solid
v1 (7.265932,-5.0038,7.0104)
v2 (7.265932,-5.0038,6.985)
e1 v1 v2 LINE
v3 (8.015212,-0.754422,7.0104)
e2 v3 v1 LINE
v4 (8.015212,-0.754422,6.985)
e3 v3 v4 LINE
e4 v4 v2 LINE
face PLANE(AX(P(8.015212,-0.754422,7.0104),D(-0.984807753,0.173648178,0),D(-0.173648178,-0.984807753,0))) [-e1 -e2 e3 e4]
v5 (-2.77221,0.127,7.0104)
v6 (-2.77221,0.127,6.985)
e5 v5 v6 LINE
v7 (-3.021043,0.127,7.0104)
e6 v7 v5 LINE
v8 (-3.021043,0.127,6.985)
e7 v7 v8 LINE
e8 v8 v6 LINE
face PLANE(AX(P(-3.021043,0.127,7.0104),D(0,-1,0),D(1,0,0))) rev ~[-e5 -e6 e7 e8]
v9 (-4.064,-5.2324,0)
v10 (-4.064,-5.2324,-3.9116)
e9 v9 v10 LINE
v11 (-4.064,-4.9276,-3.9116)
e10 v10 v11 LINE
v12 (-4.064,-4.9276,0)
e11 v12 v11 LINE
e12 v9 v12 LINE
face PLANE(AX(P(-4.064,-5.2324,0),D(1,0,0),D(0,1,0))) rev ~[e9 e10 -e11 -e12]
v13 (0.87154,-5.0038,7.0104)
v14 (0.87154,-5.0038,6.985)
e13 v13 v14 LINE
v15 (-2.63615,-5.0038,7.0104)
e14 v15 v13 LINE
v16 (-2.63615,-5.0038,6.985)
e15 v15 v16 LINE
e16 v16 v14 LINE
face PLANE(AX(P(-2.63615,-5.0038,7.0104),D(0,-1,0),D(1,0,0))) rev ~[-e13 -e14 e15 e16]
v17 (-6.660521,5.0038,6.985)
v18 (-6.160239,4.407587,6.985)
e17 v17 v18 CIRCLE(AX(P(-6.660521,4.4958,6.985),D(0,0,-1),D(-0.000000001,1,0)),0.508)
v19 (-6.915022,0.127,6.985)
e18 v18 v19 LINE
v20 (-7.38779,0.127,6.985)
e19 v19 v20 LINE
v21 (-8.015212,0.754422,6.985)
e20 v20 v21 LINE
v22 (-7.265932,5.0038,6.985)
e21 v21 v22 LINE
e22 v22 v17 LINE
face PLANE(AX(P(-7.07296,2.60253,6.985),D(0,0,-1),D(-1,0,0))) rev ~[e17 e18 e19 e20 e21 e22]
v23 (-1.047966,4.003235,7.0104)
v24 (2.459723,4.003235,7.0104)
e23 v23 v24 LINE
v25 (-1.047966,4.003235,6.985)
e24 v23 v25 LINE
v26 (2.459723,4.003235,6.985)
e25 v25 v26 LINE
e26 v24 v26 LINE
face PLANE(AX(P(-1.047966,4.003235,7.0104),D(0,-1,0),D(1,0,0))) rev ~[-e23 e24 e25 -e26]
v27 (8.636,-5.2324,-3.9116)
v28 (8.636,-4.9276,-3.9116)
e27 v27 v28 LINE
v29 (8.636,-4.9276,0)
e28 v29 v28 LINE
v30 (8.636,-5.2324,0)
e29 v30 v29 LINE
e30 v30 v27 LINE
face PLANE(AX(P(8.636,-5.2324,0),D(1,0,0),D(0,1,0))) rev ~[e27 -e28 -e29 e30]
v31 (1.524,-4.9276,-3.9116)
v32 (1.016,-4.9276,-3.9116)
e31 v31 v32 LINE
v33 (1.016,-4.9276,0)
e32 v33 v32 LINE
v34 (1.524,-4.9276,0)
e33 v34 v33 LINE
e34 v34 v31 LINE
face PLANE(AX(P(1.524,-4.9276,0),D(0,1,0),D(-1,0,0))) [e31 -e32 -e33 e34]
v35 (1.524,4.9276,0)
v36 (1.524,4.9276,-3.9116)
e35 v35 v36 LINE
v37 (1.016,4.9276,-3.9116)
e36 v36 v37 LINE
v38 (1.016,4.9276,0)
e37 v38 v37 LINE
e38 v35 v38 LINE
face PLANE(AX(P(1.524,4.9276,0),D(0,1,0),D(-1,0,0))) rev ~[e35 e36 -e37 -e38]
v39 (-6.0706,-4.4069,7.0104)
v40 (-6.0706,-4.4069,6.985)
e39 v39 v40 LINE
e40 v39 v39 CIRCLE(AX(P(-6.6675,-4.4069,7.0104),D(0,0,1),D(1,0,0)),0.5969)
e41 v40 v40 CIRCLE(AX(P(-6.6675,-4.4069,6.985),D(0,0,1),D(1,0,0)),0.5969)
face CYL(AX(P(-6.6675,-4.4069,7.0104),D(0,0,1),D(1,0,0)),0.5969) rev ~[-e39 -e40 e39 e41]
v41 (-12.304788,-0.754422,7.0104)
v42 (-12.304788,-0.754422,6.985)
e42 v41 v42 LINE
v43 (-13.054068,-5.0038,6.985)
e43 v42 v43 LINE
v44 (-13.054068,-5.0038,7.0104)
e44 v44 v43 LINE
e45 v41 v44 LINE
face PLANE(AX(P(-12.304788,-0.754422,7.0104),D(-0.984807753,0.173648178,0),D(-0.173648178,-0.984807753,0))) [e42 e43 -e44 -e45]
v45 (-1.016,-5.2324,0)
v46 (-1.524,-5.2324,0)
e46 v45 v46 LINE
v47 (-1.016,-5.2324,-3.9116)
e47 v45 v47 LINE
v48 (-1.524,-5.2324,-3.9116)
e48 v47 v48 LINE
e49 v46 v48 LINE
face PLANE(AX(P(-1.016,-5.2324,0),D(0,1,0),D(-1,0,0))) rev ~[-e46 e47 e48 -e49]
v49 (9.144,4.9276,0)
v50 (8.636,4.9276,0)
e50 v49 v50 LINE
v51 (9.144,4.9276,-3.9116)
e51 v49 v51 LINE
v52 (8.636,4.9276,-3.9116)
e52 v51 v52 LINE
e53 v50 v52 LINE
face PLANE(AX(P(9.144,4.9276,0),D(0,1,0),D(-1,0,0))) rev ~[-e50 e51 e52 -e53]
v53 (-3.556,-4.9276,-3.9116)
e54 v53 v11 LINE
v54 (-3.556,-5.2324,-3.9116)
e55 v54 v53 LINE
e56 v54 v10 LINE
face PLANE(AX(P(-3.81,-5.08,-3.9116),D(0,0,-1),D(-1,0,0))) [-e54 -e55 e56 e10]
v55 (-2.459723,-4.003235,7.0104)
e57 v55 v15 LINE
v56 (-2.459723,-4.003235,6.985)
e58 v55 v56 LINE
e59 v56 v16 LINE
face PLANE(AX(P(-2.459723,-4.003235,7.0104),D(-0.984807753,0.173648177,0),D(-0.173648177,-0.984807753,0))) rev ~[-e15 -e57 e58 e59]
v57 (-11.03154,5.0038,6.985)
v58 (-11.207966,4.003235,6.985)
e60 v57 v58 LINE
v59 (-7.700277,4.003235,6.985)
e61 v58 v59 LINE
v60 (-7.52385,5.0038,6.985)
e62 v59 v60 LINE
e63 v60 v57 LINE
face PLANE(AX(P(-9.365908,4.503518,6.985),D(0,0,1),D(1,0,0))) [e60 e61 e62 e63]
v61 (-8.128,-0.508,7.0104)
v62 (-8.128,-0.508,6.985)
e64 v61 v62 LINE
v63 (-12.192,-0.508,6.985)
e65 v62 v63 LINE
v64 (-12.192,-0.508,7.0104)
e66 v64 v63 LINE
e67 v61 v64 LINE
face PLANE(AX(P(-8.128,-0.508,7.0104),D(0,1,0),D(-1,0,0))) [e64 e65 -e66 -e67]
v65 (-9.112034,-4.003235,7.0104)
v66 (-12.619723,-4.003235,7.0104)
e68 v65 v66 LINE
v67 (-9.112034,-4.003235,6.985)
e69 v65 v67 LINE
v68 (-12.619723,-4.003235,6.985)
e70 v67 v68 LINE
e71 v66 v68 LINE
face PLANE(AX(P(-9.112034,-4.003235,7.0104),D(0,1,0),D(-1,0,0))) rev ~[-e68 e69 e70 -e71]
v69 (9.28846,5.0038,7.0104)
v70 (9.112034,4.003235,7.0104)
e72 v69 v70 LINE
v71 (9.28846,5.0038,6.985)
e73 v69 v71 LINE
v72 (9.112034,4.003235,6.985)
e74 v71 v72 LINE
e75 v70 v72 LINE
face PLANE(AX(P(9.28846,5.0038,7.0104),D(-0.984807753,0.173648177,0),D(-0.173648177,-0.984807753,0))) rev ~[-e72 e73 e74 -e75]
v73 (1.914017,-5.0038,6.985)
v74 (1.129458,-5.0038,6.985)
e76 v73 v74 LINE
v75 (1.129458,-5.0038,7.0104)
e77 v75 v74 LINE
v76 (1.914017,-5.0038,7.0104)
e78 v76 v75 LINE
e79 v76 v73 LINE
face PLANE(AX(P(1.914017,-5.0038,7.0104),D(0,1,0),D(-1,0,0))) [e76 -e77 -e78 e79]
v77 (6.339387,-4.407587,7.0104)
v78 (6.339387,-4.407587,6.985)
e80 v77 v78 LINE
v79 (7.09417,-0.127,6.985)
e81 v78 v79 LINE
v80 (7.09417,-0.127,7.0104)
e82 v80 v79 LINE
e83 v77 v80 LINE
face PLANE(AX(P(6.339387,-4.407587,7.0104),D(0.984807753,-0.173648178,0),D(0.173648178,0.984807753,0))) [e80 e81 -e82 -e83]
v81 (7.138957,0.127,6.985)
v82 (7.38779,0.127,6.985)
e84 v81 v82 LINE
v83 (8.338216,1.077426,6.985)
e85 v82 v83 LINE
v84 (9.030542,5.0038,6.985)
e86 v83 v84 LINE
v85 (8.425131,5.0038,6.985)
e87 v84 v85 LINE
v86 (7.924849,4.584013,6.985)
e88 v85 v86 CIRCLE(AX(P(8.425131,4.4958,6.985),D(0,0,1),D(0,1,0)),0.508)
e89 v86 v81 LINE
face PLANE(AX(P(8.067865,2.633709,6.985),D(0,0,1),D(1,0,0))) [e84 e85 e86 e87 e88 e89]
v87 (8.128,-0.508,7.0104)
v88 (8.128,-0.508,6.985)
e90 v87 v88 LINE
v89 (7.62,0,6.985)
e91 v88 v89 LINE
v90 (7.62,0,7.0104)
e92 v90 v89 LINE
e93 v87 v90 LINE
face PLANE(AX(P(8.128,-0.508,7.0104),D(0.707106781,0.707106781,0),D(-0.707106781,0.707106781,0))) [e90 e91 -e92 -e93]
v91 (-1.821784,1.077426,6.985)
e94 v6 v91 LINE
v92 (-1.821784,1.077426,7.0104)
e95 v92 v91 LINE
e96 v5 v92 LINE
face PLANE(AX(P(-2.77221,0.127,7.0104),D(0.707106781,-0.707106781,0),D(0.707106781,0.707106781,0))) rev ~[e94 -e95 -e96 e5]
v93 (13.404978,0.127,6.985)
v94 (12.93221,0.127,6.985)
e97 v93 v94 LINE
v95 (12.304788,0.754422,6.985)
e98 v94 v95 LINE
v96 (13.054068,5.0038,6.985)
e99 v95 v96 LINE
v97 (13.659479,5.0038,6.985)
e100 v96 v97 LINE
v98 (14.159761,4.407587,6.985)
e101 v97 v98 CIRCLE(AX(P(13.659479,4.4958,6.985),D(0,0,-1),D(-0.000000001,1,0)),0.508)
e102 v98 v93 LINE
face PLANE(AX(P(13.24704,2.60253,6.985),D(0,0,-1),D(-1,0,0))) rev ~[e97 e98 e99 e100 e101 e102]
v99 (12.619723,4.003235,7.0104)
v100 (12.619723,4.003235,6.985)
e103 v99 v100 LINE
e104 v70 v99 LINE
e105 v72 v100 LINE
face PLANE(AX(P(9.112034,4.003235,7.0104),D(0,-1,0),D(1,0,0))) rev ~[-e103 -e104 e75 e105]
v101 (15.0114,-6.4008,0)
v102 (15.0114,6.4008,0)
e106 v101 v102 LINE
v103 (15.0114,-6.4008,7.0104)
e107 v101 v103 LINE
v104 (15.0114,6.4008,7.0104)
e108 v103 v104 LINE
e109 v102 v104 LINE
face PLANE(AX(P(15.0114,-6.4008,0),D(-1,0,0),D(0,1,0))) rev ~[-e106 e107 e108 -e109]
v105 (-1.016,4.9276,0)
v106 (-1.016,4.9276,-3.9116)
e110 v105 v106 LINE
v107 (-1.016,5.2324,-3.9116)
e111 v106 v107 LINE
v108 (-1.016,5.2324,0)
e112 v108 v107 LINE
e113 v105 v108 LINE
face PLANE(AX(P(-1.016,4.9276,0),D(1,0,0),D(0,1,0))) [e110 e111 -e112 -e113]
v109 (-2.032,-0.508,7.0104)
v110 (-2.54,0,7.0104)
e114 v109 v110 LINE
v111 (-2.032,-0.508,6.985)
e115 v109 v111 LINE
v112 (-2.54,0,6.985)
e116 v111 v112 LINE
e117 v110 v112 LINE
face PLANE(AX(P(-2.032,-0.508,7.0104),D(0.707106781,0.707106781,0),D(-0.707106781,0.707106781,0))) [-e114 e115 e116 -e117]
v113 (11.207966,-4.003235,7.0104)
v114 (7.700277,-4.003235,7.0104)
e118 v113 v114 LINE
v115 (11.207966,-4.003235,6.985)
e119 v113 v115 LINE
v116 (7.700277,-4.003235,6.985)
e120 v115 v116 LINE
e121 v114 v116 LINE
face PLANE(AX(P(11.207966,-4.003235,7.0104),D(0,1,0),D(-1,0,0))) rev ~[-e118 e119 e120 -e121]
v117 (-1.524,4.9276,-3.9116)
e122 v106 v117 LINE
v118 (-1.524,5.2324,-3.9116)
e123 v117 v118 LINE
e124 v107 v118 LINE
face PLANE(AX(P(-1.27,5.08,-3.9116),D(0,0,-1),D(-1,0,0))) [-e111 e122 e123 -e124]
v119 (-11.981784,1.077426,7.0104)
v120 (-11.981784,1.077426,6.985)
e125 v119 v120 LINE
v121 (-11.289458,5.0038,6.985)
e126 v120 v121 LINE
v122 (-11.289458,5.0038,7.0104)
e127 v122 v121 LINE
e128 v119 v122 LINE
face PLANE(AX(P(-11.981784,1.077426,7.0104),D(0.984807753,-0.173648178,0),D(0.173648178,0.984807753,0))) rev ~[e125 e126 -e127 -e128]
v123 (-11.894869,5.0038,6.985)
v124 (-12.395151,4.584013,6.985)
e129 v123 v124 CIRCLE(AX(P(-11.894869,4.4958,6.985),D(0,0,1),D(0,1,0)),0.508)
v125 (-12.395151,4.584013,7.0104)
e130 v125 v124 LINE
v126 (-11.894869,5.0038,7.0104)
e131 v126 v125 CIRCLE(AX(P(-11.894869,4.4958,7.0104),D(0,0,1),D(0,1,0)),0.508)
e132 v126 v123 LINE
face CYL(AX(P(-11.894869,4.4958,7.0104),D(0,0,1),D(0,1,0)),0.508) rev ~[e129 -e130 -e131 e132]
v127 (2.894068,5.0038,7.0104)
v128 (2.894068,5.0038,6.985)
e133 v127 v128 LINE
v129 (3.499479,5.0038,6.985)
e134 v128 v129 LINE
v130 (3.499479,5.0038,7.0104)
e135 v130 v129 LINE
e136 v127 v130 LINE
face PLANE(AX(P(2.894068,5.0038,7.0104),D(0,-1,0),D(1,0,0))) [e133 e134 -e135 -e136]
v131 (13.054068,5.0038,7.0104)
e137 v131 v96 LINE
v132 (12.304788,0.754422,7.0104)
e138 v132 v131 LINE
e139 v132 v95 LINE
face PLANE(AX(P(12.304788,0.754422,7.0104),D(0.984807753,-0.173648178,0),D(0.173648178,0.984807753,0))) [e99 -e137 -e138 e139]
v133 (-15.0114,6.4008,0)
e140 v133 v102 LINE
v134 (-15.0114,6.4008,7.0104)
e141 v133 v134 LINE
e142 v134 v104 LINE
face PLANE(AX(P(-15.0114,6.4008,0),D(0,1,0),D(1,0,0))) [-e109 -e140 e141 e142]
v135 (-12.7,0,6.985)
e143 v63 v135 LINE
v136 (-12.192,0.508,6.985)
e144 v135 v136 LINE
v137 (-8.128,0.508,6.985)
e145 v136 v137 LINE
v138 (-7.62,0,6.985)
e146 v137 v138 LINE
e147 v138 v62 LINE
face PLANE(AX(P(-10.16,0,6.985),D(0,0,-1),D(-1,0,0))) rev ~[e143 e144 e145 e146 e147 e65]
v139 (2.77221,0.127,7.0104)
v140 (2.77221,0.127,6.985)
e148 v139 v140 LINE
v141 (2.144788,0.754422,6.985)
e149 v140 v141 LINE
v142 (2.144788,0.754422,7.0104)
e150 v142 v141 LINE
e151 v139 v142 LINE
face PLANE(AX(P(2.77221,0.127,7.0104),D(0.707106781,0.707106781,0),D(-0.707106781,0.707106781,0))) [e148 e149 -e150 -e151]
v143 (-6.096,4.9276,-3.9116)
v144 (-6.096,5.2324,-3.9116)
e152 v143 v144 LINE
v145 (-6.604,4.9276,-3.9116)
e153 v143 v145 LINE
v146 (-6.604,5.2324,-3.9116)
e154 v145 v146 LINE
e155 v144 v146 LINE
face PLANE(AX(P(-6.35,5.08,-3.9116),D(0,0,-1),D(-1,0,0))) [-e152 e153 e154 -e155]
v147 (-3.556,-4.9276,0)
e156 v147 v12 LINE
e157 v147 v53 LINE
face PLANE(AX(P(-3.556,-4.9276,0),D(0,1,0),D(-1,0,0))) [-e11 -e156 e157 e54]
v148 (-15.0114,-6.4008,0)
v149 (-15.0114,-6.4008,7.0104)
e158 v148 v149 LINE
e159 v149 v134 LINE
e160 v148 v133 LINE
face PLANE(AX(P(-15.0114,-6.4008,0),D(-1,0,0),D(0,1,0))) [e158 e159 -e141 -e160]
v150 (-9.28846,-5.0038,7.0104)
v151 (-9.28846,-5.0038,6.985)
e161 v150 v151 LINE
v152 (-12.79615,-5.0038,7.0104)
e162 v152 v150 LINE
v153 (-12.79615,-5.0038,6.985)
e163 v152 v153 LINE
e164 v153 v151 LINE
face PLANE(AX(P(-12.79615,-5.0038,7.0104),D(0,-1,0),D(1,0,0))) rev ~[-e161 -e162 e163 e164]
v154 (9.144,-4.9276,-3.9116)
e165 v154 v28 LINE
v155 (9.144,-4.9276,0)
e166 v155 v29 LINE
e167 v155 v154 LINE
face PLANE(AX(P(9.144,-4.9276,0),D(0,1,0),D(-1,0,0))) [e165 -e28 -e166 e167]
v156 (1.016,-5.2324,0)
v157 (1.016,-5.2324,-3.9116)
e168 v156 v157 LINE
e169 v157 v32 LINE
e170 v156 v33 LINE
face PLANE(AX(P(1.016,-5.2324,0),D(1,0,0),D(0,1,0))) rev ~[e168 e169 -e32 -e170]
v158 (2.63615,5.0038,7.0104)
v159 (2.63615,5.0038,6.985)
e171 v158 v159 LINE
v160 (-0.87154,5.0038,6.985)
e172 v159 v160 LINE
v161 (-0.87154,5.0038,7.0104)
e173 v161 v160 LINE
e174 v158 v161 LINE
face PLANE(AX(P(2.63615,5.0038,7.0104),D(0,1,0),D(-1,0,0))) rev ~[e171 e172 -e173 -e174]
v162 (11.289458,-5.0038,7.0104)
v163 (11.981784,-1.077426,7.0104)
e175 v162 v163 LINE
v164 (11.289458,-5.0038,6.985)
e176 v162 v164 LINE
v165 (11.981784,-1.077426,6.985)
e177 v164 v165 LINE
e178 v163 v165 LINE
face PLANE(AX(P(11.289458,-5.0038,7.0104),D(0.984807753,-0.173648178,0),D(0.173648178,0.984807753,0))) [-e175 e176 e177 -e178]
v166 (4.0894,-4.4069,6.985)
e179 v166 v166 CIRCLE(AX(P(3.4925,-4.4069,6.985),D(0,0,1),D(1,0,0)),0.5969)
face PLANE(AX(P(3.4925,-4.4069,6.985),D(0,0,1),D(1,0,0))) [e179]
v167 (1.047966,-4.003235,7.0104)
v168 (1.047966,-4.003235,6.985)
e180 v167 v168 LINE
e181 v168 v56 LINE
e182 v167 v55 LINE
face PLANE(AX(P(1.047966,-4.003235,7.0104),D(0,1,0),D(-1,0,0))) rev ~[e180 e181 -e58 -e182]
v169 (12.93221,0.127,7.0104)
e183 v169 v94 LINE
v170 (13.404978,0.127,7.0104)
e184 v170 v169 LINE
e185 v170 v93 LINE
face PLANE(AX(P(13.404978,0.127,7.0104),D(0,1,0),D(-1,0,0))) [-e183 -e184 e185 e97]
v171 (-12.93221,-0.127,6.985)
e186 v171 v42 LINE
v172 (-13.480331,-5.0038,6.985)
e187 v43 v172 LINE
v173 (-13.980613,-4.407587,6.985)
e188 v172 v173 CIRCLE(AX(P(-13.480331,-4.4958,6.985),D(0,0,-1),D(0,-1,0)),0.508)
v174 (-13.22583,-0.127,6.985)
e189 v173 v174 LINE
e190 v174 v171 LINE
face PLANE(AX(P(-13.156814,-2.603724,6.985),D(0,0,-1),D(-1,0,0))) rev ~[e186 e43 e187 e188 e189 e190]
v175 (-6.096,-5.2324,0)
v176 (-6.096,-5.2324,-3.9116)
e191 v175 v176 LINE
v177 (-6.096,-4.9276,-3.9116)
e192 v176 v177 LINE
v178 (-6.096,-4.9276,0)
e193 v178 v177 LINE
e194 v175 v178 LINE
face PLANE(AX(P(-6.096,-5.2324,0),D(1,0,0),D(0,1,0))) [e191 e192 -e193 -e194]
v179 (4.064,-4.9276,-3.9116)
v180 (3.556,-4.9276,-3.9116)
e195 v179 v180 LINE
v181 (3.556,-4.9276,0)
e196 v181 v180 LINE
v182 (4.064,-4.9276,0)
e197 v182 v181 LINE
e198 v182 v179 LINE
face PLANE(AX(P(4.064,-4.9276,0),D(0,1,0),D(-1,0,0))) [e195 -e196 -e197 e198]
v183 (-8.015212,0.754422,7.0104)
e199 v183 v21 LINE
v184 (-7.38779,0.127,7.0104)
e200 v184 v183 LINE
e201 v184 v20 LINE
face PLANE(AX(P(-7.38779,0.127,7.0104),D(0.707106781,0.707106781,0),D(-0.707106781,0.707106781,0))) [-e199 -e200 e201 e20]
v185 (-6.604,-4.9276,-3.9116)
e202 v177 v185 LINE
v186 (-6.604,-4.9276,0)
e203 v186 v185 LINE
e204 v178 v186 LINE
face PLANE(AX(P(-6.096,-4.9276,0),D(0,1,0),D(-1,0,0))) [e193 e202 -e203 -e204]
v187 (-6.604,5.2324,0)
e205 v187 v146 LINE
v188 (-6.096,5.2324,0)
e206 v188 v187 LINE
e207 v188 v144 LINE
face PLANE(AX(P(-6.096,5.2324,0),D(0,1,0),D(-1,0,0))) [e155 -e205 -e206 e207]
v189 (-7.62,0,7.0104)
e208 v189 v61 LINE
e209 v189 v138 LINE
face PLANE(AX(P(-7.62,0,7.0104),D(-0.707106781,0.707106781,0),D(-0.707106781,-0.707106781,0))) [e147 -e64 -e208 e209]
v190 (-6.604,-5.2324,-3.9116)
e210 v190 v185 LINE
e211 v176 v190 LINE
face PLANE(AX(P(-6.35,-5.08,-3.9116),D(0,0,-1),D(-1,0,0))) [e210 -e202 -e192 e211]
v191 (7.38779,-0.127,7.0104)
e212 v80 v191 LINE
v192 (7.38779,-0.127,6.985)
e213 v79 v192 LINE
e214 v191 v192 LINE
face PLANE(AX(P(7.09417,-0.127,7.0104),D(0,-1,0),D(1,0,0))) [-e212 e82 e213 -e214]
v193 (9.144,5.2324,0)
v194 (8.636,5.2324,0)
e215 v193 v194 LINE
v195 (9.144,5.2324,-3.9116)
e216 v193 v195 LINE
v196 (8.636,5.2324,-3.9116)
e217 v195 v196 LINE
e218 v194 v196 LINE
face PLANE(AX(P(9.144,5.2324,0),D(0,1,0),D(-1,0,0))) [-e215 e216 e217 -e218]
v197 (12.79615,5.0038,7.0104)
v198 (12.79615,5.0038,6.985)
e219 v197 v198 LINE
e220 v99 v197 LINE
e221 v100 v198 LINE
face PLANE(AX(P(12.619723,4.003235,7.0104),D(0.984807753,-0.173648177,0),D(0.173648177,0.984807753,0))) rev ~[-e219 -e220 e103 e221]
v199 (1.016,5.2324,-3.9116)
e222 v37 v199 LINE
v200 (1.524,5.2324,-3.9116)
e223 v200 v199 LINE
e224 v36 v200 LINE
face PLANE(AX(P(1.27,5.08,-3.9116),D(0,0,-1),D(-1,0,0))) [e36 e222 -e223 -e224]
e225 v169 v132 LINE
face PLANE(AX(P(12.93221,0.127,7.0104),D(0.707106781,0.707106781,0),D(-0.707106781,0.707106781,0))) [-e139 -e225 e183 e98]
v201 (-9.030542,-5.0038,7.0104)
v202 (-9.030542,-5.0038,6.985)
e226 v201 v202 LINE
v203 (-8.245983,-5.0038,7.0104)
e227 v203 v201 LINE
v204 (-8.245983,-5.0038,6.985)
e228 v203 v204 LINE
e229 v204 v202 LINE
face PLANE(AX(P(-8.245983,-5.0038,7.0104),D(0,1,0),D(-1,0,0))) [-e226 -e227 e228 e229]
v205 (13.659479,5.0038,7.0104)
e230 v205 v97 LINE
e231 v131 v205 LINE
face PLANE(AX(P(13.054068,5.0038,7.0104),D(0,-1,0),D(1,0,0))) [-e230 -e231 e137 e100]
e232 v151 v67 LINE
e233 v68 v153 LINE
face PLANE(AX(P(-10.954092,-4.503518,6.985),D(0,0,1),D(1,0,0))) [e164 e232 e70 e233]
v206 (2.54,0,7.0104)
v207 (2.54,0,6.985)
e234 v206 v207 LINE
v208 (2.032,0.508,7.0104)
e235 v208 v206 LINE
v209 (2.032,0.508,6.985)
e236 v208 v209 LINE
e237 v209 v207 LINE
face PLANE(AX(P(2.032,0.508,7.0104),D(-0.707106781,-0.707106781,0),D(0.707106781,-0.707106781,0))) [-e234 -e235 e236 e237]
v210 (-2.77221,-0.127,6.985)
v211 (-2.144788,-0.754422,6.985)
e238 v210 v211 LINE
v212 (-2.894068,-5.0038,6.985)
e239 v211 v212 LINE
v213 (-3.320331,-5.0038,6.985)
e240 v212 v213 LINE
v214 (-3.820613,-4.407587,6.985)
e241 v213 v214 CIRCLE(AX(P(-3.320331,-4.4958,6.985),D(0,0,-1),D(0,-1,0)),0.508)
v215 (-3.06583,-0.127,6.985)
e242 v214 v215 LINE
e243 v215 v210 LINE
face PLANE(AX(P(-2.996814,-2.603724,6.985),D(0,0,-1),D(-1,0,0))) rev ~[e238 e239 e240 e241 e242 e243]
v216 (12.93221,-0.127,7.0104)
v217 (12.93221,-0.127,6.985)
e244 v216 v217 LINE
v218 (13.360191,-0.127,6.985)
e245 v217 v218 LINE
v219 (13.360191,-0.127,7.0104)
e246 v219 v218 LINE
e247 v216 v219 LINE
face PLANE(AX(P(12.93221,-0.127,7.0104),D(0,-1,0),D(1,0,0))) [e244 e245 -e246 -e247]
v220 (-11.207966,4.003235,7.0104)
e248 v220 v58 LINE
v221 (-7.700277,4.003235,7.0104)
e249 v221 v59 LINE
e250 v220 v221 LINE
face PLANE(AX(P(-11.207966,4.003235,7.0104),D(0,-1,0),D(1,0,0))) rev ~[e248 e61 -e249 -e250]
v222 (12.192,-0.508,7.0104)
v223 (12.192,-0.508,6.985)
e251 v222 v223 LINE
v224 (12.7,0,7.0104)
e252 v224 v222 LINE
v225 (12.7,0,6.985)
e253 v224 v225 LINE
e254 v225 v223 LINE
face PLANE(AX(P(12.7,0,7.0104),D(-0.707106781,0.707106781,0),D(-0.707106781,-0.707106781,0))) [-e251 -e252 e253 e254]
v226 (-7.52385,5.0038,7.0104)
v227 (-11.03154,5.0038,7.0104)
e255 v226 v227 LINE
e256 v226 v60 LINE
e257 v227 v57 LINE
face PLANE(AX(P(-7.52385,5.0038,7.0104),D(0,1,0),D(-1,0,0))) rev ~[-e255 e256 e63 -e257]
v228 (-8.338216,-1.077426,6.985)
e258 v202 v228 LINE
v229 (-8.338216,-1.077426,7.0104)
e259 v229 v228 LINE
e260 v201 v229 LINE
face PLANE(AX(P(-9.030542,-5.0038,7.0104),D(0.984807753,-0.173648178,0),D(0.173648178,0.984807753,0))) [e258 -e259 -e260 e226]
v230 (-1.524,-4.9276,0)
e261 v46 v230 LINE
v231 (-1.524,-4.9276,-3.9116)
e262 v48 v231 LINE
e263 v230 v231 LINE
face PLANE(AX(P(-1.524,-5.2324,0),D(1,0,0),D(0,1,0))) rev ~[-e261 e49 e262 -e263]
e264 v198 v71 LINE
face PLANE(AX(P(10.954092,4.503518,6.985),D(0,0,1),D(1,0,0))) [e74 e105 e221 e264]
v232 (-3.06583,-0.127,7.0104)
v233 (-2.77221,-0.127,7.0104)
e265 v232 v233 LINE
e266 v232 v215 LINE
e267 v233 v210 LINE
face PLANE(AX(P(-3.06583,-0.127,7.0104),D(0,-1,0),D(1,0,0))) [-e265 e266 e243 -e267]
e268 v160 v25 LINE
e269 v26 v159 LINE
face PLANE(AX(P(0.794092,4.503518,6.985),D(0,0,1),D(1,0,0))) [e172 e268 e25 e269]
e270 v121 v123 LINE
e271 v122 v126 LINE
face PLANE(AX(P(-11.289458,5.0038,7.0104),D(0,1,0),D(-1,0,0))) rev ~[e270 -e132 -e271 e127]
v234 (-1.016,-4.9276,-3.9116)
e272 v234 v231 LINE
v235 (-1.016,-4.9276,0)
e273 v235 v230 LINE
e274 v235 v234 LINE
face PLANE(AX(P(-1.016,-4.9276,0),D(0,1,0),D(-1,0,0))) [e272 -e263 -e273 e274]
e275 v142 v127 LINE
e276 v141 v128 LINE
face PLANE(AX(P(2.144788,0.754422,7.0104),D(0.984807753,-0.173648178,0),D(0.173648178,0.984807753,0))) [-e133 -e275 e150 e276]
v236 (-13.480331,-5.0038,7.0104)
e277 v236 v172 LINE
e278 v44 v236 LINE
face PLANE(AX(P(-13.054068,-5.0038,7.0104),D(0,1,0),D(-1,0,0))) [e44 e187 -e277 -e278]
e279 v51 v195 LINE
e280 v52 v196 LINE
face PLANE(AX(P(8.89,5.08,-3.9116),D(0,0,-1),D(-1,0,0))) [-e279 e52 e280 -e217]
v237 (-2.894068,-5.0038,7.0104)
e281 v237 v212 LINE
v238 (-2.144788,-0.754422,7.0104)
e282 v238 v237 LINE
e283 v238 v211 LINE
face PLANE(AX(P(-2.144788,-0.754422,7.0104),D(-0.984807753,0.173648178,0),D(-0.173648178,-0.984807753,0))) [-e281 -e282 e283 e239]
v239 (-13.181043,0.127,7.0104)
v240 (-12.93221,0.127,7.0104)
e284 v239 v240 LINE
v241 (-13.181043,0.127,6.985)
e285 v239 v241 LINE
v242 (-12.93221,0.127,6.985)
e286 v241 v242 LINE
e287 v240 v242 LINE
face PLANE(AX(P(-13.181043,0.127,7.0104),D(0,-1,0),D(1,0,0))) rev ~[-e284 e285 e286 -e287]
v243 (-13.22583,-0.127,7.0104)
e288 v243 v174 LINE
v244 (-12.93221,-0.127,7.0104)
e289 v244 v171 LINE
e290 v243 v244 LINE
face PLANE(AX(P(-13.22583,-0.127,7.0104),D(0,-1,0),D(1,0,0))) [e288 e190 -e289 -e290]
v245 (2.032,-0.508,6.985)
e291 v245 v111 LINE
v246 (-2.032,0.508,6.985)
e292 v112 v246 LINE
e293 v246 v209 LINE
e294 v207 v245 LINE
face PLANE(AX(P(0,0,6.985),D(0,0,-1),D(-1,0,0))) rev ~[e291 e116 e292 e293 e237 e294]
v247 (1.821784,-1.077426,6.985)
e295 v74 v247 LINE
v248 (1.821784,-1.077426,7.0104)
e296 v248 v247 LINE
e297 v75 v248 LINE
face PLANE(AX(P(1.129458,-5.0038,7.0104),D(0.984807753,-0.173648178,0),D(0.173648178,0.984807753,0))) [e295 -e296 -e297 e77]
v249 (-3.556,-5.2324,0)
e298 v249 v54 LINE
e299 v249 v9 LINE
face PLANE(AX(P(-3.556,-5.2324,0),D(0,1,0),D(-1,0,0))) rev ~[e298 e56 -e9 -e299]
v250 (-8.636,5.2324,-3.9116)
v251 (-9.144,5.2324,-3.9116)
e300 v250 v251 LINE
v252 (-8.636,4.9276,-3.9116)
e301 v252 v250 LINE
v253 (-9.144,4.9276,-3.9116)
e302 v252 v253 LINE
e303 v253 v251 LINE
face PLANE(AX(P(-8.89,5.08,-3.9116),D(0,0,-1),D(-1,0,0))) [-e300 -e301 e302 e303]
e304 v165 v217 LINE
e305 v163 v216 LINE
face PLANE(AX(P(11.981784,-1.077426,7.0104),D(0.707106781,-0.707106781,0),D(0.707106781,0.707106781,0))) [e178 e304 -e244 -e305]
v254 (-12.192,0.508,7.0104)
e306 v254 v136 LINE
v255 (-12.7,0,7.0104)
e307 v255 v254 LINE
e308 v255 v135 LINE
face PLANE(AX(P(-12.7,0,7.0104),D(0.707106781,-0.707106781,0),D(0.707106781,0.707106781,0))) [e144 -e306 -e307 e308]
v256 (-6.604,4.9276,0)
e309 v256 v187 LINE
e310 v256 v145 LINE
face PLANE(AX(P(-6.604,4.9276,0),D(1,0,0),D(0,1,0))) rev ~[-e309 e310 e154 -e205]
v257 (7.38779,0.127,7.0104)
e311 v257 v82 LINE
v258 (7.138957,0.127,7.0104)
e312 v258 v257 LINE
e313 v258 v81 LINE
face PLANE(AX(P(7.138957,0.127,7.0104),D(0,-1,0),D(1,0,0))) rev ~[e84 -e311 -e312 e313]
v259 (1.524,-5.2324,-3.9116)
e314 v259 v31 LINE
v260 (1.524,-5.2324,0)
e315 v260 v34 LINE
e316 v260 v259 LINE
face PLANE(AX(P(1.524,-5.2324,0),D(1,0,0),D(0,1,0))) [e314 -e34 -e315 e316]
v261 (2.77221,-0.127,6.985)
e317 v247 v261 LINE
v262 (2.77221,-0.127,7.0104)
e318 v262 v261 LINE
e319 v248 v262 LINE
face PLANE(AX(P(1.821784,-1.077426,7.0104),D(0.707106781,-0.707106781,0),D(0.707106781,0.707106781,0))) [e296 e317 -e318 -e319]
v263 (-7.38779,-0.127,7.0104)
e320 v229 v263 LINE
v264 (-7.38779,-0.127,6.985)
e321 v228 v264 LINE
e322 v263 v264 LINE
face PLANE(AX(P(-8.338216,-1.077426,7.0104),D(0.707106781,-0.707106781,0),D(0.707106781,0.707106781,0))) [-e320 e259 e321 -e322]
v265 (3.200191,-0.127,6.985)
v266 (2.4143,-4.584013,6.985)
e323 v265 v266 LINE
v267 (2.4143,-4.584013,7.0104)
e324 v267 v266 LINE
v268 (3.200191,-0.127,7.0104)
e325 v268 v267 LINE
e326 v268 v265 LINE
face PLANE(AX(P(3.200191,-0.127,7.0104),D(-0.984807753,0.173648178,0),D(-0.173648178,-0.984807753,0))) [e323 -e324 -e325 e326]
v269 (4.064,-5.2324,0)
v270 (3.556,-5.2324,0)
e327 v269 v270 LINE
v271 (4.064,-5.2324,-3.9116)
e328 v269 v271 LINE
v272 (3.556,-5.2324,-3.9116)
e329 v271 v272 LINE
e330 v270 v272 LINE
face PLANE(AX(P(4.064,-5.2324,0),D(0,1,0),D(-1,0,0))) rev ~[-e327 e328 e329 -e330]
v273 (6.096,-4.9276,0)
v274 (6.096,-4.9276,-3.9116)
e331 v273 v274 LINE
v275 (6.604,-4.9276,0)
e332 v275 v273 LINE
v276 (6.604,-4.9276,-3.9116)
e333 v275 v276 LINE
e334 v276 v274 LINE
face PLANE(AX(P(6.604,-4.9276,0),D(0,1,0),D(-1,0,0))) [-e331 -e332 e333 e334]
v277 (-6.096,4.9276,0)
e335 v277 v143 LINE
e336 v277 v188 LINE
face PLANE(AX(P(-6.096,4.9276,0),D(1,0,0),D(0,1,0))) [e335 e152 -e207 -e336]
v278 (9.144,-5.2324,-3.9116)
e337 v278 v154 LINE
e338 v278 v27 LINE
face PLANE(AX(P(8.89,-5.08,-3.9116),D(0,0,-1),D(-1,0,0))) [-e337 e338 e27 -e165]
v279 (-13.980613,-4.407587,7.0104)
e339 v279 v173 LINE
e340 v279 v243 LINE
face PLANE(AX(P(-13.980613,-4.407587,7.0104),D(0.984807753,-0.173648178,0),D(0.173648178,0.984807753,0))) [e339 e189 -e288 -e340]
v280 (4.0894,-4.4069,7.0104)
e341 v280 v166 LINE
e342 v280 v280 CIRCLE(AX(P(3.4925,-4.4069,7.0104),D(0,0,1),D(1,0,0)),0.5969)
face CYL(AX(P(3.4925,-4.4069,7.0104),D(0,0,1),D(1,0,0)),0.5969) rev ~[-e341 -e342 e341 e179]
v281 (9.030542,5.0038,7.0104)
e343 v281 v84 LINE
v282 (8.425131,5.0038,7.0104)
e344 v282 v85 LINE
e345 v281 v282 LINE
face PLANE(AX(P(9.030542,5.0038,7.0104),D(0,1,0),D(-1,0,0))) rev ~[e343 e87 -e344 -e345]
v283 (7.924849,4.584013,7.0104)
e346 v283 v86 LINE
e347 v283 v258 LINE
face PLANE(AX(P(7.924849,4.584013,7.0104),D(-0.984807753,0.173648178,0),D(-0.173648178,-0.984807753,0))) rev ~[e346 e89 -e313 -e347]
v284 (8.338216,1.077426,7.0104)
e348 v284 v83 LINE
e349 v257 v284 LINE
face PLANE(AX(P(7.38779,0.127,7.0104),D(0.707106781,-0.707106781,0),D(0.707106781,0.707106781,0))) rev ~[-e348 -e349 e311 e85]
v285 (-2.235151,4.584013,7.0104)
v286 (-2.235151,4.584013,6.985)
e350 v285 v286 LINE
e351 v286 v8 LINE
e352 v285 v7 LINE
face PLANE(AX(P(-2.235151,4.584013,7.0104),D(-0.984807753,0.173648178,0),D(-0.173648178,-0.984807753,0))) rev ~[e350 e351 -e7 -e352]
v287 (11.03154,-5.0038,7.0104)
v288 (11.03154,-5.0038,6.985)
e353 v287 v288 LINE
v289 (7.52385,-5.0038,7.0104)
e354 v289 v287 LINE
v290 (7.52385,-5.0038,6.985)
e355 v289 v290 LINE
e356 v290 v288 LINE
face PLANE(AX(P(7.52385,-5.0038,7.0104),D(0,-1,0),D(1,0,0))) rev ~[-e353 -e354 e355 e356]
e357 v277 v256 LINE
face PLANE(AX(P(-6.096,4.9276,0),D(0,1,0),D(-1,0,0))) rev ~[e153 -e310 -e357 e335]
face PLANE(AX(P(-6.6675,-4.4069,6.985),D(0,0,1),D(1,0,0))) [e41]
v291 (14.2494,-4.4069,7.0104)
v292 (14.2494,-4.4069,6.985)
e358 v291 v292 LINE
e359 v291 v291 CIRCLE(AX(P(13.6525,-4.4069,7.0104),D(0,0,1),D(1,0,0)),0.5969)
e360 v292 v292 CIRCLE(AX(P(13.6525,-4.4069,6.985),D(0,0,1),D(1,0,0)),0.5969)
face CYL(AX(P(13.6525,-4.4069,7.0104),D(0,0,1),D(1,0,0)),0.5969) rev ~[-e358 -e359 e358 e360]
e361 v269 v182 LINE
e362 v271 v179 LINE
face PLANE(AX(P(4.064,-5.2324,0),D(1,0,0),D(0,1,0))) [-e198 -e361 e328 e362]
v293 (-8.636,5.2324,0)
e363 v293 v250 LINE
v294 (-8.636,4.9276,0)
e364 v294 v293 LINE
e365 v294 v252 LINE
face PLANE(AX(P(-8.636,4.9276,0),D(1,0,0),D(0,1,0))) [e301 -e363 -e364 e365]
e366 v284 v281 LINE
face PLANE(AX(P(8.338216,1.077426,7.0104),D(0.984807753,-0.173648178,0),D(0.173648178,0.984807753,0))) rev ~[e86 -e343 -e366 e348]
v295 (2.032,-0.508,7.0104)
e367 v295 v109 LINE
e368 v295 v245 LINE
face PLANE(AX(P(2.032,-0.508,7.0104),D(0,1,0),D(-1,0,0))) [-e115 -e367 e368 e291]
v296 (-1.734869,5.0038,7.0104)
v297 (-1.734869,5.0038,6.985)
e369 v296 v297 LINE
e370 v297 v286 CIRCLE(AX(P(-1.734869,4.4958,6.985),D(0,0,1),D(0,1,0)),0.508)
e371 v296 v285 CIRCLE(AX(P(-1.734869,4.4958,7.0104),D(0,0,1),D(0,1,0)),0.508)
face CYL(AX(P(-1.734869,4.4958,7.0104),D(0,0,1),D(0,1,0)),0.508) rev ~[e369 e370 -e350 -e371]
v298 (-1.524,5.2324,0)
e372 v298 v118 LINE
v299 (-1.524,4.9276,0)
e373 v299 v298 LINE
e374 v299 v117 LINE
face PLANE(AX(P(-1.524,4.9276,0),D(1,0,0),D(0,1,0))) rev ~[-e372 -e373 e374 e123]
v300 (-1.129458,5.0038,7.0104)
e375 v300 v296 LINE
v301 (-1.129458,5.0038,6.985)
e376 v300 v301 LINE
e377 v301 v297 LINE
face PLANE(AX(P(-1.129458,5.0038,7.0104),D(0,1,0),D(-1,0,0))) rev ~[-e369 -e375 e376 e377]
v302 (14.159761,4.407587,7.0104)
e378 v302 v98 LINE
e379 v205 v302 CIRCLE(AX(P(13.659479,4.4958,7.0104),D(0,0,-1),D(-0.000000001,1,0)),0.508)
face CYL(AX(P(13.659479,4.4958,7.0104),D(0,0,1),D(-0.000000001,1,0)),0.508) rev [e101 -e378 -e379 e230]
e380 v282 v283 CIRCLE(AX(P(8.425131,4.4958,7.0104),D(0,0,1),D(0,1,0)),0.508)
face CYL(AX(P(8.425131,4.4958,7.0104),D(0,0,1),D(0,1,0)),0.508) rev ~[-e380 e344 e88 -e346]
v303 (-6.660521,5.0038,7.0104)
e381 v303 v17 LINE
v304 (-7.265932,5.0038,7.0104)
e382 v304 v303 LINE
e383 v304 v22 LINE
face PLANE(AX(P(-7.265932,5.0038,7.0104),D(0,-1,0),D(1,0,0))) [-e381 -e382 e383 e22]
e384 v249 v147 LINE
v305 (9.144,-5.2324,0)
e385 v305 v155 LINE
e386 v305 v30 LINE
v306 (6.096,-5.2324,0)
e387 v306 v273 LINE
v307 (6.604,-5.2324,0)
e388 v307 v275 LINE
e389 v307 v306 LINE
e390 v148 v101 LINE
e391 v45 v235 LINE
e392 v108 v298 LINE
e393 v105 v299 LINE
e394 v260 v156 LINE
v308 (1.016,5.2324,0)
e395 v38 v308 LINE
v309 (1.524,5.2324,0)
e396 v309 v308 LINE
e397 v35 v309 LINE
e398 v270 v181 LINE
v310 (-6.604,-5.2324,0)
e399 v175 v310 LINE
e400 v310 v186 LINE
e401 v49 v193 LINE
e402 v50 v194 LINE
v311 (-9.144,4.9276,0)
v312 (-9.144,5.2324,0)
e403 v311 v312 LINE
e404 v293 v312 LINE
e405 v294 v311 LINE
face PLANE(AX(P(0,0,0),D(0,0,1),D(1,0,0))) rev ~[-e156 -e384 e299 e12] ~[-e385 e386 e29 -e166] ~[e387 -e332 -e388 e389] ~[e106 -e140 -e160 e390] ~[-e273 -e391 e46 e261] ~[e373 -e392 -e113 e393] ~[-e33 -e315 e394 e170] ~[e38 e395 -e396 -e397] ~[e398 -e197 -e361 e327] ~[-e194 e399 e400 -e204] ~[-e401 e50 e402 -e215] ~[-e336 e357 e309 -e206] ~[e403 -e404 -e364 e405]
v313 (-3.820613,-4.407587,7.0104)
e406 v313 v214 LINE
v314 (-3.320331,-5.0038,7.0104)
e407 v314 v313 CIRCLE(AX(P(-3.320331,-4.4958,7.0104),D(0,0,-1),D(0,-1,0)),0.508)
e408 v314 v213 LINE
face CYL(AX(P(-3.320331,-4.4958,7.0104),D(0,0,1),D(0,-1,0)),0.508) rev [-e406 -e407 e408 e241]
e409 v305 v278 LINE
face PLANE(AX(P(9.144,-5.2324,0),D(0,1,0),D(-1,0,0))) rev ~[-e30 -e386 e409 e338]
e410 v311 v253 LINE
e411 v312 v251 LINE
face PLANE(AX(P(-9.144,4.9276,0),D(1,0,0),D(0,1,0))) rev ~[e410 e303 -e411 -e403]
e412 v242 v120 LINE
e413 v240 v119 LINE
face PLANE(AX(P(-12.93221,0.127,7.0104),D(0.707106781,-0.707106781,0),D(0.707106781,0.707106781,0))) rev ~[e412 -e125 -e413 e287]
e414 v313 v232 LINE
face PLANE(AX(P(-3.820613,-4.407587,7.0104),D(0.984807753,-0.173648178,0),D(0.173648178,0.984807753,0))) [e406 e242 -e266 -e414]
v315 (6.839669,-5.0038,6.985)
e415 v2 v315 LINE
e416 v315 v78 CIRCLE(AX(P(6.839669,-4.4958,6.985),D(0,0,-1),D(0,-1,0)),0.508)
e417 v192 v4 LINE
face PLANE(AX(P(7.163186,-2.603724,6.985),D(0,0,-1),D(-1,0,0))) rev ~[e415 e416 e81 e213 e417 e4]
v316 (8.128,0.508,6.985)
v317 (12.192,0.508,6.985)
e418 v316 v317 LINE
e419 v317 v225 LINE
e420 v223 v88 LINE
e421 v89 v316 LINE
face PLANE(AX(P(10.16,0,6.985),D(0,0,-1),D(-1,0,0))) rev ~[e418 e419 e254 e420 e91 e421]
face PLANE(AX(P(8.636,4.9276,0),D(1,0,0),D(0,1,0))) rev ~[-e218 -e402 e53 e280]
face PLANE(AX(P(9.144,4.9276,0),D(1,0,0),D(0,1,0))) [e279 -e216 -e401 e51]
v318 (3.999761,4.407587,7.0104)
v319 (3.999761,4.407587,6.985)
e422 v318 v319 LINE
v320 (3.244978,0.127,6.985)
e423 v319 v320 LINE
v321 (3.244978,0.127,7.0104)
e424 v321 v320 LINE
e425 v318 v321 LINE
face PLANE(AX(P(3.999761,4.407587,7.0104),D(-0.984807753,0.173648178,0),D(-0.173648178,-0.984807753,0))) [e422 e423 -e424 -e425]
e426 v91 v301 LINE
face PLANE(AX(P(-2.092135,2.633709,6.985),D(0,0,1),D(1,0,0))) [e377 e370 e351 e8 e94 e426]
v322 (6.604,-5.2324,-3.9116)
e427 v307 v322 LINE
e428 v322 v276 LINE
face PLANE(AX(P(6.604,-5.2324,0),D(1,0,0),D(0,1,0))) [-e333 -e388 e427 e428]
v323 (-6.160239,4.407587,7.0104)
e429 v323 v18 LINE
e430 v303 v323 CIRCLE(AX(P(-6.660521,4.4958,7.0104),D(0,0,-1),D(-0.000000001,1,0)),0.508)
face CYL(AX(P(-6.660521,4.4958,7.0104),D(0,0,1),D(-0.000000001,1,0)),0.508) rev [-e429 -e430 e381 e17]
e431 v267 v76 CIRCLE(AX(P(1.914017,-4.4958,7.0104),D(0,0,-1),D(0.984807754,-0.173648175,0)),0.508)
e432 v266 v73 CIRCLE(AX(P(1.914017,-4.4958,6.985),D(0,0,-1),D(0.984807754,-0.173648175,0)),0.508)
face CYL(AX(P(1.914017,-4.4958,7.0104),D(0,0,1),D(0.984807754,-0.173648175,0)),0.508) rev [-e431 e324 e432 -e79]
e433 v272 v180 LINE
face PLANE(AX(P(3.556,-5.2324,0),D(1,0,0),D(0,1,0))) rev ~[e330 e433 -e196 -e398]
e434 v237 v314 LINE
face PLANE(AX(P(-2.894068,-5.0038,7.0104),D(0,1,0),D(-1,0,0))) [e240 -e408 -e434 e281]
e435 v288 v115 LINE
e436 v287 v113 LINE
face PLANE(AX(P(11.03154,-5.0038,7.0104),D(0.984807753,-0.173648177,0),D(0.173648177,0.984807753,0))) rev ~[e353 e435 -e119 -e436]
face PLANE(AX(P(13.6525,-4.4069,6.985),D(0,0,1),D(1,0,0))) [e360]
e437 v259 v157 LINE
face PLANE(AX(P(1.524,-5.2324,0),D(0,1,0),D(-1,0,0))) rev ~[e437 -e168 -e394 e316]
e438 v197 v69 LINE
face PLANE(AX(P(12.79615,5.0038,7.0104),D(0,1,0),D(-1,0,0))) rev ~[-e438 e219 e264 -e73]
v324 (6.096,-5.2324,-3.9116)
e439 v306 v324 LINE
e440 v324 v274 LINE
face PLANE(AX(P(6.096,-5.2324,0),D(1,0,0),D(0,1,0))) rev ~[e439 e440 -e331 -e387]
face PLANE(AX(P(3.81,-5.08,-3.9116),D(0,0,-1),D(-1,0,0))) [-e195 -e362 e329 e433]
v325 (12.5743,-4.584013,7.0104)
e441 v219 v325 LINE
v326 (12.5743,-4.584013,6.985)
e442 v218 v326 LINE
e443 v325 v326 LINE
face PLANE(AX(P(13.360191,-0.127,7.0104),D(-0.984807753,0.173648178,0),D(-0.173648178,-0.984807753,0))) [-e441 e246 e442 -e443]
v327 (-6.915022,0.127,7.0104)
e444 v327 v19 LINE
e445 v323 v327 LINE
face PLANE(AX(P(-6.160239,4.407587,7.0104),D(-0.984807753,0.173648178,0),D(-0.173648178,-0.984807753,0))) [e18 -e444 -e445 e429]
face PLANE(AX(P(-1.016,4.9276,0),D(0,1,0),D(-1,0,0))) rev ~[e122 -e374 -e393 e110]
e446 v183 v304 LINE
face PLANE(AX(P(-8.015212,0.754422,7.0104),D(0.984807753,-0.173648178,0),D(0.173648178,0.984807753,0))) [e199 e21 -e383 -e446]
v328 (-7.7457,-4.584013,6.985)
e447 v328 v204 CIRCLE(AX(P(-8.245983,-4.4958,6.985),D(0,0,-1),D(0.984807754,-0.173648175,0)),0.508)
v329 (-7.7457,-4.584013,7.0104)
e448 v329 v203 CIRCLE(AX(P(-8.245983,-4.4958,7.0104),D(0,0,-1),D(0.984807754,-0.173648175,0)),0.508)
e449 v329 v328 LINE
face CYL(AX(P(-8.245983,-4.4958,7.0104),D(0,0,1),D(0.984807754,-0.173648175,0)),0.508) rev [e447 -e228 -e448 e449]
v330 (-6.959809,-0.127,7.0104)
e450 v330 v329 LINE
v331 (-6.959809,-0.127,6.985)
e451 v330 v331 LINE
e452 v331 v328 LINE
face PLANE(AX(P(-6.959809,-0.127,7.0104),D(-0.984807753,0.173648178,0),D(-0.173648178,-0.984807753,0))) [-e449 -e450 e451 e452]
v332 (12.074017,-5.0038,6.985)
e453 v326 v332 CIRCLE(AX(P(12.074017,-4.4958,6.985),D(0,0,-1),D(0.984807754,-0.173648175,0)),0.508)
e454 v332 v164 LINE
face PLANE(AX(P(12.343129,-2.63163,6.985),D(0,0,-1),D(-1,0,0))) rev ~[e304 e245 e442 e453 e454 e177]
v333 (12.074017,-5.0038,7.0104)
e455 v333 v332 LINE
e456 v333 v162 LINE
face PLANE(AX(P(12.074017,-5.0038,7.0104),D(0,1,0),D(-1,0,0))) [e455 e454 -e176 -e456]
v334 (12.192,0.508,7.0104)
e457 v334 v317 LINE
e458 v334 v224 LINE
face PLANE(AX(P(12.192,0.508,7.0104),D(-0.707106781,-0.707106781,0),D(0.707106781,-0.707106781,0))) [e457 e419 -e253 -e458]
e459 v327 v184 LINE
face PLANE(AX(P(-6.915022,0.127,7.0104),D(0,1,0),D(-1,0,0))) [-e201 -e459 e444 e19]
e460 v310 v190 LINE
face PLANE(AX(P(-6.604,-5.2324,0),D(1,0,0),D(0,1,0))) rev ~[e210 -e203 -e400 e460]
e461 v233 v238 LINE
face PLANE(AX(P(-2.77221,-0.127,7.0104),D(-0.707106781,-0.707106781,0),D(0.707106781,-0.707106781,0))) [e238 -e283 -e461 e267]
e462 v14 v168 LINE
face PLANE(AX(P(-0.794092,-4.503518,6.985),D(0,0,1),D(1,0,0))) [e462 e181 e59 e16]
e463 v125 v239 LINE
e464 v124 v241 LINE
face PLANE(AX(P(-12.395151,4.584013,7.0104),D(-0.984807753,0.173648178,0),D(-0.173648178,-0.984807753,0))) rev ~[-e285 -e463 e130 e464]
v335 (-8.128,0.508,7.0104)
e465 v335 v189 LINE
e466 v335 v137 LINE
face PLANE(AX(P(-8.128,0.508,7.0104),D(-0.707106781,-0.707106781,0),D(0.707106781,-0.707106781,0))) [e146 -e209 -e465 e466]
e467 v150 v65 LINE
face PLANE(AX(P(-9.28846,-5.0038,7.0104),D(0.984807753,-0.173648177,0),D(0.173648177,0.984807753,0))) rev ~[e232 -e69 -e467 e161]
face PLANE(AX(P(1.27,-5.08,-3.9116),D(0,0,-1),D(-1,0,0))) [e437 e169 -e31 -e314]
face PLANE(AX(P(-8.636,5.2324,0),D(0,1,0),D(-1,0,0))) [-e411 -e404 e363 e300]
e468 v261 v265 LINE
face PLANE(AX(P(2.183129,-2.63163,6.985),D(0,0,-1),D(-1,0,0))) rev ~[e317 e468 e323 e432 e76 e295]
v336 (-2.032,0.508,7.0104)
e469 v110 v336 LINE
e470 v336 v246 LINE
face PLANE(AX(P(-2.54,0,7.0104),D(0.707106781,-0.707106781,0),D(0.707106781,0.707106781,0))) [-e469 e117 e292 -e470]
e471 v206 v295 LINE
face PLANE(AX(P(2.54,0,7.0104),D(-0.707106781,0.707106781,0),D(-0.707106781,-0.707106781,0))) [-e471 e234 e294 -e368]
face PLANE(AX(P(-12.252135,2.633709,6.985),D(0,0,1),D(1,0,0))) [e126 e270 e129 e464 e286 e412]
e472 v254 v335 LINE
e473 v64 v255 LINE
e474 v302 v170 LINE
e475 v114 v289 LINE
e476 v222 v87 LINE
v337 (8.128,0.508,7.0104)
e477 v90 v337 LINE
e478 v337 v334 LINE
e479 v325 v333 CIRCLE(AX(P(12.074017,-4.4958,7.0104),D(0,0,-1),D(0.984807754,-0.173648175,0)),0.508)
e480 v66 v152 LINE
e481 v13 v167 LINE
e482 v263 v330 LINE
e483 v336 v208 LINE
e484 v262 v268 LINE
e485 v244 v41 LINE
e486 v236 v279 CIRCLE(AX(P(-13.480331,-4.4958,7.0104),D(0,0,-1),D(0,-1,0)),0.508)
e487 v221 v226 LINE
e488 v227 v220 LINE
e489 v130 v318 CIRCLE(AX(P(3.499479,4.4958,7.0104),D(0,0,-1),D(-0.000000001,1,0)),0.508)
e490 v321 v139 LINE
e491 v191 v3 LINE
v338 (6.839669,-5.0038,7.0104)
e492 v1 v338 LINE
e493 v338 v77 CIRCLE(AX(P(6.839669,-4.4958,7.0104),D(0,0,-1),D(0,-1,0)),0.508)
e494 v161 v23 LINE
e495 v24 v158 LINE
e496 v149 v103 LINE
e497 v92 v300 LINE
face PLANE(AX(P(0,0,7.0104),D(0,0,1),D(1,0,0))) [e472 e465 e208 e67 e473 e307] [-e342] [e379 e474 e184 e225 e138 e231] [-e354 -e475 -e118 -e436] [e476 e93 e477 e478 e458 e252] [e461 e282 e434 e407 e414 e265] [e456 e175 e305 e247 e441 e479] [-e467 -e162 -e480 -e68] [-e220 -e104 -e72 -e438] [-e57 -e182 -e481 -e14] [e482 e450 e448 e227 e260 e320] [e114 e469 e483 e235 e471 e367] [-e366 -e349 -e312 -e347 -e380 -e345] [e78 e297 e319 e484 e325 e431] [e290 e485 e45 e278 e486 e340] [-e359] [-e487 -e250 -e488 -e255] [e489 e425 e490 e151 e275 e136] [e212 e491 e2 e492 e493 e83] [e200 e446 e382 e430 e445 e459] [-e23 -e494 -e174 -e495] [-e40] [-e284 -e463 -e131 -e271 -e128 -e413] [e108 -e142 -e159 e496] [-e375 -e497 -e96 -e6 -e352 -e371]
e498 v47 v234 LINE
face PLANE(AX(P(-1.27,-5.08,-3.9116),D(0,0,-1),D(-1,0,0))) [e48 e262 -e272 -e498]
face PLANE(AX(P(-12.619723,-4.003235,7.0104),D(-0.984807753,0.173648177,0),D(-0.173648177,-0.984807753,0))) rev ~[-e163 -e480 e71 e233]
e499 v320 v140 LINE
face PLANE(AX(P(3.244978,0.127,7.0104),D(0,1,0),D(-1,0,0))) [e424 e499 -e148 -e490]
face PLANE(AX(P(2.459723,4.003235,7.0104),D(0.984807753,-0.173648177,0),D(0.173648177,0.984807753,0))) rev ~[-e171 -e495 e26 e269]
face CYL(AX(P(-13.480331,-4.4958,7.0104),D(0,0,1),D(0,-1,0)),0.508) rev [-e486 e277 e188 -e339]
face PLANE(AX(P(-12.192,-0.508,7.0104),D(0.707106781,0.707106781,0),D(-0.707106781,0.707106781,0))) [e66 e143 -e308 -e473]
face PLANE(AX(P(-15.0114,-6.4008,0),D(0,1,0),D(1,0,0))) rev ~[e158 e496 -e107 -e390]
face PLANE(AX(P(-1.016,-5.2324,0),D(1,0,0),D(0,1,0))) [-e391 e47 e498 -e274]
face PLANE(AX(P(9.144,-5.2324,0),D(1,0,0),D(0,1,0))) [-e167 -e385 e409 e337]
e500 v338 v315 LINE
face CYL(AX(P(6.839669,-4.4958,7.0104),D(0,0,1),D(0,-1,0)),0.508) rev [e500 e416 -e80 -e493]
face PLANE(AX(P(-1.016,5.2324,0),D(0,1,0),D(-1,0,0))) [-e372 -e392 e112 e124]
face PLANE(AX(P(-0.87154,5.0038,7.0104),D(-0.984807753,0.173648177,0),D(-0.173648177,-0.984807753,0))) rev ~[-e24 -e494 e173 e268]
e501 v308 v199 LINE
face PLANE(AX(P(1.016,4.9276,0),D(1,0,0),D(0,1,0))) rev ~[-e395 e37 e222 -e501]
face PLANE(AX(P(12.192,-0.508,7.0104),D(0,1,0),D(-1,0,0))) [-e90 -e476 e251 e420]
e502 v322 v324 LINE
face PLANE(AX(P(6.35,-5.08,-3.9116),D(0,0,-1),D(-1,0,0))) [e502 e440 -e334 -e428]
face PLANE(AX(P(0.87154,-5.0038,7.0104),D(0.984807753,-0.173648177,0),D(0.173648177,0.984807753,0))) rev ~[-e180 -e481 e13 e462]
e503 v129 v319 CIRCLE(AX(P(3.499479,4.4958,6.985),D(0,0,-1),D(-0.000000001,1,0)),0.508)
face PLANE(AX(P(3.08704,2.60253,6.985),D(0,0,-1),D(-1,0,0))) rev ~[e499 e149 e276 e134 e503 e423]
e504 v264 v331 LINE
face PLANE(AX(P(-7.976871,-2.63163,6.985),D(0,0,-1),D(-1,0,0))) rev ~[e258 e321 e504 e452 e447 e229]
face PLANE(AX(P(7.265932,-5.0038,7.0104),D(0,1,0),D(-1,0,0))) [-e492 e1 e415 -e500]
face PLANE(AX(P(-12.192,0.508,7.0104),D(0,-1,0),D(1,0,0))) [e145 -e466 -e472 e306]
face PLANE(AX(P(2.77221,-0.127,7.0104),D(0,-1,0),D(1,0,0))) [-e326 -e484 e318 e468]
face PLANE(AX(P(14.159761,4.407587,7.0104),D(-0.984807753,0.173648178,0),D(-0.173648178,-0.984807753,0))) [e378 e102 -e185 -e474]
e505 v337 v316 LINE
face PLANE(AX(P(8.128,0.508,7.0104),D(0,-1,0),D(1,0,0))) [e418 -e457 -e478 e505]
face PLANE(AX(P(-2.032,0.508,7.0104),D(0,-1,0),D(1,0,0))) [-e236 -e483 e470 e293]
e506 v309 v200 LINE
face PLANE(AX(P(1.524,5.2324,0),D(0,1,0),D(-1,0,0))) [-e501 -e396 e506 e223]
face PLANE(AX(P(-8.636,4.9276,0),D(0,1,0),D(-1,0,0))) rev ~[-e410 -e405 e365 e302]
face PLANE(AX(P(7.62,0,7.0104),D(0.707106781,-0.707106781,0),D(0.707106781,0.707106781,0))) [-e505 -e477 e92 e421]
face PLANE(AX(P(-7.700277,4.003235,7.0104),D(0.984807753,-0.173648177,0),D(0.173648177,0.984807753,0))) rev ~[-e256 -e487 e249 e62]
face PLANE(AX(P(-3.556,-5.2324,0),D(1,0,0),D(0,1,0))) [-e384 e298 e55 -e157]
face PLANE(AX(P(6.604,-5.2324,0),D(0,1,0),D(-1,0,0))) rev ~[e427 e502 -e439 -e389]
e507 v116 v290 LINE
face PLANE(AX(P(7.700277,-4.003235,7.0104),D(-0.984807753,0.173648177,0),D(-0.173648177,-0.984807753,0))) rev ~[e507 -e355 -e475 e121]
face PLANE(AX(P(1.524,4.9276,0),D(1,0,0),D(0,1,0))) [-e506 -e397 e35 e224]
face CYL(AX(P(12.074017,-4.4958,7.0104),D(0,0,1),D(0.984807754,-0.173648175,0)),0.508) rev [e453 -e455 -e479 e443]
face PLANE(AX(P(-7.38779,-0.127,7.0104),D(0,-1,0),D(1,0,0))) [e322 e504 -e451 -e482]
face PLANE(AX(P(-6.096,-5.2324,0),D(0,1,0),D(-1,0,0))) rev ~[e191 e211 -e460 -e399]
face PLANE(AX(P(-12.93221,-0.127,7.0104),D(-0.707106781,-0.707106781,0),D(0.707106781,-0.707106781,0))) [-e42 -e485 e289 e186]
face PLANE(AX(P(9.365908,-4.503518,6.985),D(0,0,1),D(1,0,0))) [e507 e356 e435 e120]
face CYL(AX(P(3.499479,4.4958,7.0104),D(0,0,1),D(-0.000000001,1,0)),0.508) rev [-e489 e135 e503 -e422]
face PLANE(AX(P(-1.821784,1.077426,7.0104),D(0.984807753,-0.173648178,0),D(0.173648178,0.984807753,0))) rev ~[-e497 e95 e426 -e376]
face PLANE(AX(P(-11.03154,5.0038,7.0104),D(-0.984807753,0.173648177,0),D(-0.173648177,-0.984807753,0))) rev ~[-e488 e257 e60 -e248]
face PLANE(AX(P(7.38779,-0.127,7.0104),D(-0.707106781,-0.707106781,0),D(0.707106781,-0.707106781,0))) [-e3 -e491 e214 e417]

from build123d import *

# Parameters (mm, degrees)
SKETCH1_W            = 30.0228
SKETCH1_H            = 12.8016
BOSS_EXTRUDE1_DEPTH  = 7.0104
SKETCH2_W            = 0.508
SKETCH2_H            = 0.3048
BOSS_EXTRUDE2_DEPTH  = 3.9116
LPATTERN1_COUNT      = 4
LPATTERN1_PITCH      = 2.54
LPATTERN1_COUNT_DIR2 = 2
LPATTERN1_PITCH_DIR2 = 10.16
LPATTERN2_COUNT      = 5
LPATTERN2_PITCH      = 2.54
LPATTERN2_COUNT_DIR2 = 2
LPATTERN2_PITCH_DIR2 = 10.16
SKETCH3_R            = 0.5969
CUT_EXTRUDE1_DEPTH   = 0.0254
LPATTERN3_COUNT      = 2
LPATTERN3_PITCH      = 10.16
LPATTERN4_COUNT      = 2
LPATTERN4_PITCH      = 10.16


with BuildPart() as part:
    # Sketch1 → Boss-Extrude1 (new body)
    with BuildSketch(Plane.XY):
        Rectangle(SKETCH1_W, SKETCH1_H)
    extrude(amount=BOSS_EXTRUDE1_DEPTH)

    # Sketch2 → Boss-Extrude2 (add)
    with BuildSketch(Plane(origin=(0, 0, 0), x_dir=(-1, 0, 0), z_dir=(0, 0, -1))):
        with Locations((-1.27, 5.08)):
            Rectangle(SKETCH2_W, SKETCH2_H)
    boss_extrude2 = extrude(amount=BOSS_EXTRUDE2_DEPTH)

    # LPattern1: Boss-Extrude2 4 × 2, 2 skipped
    with Locations(*[(i * LPATTERN1_PITCH, -j * LPATTERN1_PITCH_DIR2, 0) for i in range(LPATTERN1_COUNT) for j in range(LPATTERN1_COUNT_DIR2) if (i, j) not in ((0, 0), (1, 0), (2, 0))]):
        add(boss_extrude2)

    # LPattern2: Boss-Extrude2 5 × 2, 3 skipped
    with Locations(*[(-i * LPATTERN2_PITCH, -j * LPATTERN2_PITCH_DIR2, 0) for i in range(LPATTERN2_COUNT) for j in range(LPATTERN2_COUNT_DIR2) if (i, j) not in ((0, 0), (0, 1), (2, 0), (4, 1))]):
        add(boss_extrude2)

    # Sketch3 → Cut-Extrude1 (cut)
    with BuildSketch(Plane.XY.offset(7.0104)):
        with Locations((3.4925, -4.4069)):
            Circle(SKETCH3_R)
        Polygon((-2.54, 0), (-2.032, 0.508), (2.032, 0.508), (2.54, 0), (2.032, -0.508), (-2.032, -0.508), align=None)
        with BuildLine():
            Line((-2.772210245, 0.127), (-1.821783863, 1.077426382))
            Line((-1.821783863, 1.077426382), (-1.129458257, 5.0038))
            Line((-1.129458257, 5.0038), (-1.734869082, 5.0038))
            ThreePointArc((-1.734869082, 5.0038), (-2.061405188, 4.884950577), (-2.235151421, 4.584013274))
            Line((-2.235151421, 4.584013274), (-3.021043115, 0.127))
            Line((-3.021043115, 0.127), (-2.772210245, 0.127))
        make_face()
        Polygon((0.882304946, 5.0038), (-0.871539898, 5.0038), (-1.047966446, 4.003235323), (0.705878398, 4.003235323), (2.459723242, 4.003235323), (2.63614979, 5.0038), align=None)
        with BuildLine():
            Line((3.24497838, 0.127), (2.772210245, 0.127))
            Line((2.772210245, 0.127), (2.14478817, 0.754422075))
            Line((2.14478817, 0.754422075), (2.89406815, 5.0038))
            Line((2.89406815, 5.0038), (3.499478975, 5.0038))
            ThreePointArc((3.499478975, 5.0038), (3.888629552, 4.822336106), (3.999761313, 4.407586726))
            Line((3.999761313, 4.407586726), (3.24497838, 0.127))
        make_face()
        with BuildLine():
            Line((1.914017295, -5.0038), (1.129458257, -5.0038))
            Line((1.129458257, -5.0038), (1.821783863, -1.077426382))
            Line((1.821783863, -1.077426382), (2.772210245, -0.127))
            Line((2.772210245, -0.127), (3.200191327, -0.127))
            Line((3.200191327, -0.127), (2.414299633, -4.584013274))
            ThreePointArc((2.414299633, -4.584013274), (2.240553401, -4.884950577), (1.914017295, -5.0038))
        make_face()
        with BuildLine():
            Line((-3.065830168, -0.127), (-2.772210245, -0.127))
            Line((-2.772210245, -0.127), (-2.14478817, -0.754422075))
            Line((-2.14478817, -0.754422075), (-2.89406815, -5.0038))
            Line((-2.89406815, -5.0038), (-3.320330762, -5.0038))
            ThreePointArc((-3.320330762, -5.0038), (-3.709481339, -4.822336106), (-3.820613101, -4.407586726))
            Line((-3.820613101, -4.407586726), (-3.065830168, -0.127))
        make_face()
        Polygon((-0.705878398, -4.003235323), (-2.459723242, -4.003235323), (-2.63614979, -5.0038), (-0.882304946, -5.0038), (0.871539898, -5.0038), (1.047966446, -4.003235323), align=None)
    cut_extrude1 = extrude(amount=-CUT_EXTRUDE1_DEPTH, mode=Mode.SUBTRACT)

    # LPattern3: Cut-Extrude1 ×2
    with Locations(*[(i * LPATTERN3_PITCH, 0, 0) for i in range(1, LPATTERN3_COUNT)]):
        add(cut_extrude1, mode=Mode.SUBTRACT)

    # LPattern4: Cut-Extrude1 ×2
    with Locations(*[(-i * LPATTERN4_PITCH, 0, 0) for i in range(1, LPATTERN4_COUNT)]):
        add(cut_extrude1, mode=Mode.SUBTRACT)


solid = part.part
